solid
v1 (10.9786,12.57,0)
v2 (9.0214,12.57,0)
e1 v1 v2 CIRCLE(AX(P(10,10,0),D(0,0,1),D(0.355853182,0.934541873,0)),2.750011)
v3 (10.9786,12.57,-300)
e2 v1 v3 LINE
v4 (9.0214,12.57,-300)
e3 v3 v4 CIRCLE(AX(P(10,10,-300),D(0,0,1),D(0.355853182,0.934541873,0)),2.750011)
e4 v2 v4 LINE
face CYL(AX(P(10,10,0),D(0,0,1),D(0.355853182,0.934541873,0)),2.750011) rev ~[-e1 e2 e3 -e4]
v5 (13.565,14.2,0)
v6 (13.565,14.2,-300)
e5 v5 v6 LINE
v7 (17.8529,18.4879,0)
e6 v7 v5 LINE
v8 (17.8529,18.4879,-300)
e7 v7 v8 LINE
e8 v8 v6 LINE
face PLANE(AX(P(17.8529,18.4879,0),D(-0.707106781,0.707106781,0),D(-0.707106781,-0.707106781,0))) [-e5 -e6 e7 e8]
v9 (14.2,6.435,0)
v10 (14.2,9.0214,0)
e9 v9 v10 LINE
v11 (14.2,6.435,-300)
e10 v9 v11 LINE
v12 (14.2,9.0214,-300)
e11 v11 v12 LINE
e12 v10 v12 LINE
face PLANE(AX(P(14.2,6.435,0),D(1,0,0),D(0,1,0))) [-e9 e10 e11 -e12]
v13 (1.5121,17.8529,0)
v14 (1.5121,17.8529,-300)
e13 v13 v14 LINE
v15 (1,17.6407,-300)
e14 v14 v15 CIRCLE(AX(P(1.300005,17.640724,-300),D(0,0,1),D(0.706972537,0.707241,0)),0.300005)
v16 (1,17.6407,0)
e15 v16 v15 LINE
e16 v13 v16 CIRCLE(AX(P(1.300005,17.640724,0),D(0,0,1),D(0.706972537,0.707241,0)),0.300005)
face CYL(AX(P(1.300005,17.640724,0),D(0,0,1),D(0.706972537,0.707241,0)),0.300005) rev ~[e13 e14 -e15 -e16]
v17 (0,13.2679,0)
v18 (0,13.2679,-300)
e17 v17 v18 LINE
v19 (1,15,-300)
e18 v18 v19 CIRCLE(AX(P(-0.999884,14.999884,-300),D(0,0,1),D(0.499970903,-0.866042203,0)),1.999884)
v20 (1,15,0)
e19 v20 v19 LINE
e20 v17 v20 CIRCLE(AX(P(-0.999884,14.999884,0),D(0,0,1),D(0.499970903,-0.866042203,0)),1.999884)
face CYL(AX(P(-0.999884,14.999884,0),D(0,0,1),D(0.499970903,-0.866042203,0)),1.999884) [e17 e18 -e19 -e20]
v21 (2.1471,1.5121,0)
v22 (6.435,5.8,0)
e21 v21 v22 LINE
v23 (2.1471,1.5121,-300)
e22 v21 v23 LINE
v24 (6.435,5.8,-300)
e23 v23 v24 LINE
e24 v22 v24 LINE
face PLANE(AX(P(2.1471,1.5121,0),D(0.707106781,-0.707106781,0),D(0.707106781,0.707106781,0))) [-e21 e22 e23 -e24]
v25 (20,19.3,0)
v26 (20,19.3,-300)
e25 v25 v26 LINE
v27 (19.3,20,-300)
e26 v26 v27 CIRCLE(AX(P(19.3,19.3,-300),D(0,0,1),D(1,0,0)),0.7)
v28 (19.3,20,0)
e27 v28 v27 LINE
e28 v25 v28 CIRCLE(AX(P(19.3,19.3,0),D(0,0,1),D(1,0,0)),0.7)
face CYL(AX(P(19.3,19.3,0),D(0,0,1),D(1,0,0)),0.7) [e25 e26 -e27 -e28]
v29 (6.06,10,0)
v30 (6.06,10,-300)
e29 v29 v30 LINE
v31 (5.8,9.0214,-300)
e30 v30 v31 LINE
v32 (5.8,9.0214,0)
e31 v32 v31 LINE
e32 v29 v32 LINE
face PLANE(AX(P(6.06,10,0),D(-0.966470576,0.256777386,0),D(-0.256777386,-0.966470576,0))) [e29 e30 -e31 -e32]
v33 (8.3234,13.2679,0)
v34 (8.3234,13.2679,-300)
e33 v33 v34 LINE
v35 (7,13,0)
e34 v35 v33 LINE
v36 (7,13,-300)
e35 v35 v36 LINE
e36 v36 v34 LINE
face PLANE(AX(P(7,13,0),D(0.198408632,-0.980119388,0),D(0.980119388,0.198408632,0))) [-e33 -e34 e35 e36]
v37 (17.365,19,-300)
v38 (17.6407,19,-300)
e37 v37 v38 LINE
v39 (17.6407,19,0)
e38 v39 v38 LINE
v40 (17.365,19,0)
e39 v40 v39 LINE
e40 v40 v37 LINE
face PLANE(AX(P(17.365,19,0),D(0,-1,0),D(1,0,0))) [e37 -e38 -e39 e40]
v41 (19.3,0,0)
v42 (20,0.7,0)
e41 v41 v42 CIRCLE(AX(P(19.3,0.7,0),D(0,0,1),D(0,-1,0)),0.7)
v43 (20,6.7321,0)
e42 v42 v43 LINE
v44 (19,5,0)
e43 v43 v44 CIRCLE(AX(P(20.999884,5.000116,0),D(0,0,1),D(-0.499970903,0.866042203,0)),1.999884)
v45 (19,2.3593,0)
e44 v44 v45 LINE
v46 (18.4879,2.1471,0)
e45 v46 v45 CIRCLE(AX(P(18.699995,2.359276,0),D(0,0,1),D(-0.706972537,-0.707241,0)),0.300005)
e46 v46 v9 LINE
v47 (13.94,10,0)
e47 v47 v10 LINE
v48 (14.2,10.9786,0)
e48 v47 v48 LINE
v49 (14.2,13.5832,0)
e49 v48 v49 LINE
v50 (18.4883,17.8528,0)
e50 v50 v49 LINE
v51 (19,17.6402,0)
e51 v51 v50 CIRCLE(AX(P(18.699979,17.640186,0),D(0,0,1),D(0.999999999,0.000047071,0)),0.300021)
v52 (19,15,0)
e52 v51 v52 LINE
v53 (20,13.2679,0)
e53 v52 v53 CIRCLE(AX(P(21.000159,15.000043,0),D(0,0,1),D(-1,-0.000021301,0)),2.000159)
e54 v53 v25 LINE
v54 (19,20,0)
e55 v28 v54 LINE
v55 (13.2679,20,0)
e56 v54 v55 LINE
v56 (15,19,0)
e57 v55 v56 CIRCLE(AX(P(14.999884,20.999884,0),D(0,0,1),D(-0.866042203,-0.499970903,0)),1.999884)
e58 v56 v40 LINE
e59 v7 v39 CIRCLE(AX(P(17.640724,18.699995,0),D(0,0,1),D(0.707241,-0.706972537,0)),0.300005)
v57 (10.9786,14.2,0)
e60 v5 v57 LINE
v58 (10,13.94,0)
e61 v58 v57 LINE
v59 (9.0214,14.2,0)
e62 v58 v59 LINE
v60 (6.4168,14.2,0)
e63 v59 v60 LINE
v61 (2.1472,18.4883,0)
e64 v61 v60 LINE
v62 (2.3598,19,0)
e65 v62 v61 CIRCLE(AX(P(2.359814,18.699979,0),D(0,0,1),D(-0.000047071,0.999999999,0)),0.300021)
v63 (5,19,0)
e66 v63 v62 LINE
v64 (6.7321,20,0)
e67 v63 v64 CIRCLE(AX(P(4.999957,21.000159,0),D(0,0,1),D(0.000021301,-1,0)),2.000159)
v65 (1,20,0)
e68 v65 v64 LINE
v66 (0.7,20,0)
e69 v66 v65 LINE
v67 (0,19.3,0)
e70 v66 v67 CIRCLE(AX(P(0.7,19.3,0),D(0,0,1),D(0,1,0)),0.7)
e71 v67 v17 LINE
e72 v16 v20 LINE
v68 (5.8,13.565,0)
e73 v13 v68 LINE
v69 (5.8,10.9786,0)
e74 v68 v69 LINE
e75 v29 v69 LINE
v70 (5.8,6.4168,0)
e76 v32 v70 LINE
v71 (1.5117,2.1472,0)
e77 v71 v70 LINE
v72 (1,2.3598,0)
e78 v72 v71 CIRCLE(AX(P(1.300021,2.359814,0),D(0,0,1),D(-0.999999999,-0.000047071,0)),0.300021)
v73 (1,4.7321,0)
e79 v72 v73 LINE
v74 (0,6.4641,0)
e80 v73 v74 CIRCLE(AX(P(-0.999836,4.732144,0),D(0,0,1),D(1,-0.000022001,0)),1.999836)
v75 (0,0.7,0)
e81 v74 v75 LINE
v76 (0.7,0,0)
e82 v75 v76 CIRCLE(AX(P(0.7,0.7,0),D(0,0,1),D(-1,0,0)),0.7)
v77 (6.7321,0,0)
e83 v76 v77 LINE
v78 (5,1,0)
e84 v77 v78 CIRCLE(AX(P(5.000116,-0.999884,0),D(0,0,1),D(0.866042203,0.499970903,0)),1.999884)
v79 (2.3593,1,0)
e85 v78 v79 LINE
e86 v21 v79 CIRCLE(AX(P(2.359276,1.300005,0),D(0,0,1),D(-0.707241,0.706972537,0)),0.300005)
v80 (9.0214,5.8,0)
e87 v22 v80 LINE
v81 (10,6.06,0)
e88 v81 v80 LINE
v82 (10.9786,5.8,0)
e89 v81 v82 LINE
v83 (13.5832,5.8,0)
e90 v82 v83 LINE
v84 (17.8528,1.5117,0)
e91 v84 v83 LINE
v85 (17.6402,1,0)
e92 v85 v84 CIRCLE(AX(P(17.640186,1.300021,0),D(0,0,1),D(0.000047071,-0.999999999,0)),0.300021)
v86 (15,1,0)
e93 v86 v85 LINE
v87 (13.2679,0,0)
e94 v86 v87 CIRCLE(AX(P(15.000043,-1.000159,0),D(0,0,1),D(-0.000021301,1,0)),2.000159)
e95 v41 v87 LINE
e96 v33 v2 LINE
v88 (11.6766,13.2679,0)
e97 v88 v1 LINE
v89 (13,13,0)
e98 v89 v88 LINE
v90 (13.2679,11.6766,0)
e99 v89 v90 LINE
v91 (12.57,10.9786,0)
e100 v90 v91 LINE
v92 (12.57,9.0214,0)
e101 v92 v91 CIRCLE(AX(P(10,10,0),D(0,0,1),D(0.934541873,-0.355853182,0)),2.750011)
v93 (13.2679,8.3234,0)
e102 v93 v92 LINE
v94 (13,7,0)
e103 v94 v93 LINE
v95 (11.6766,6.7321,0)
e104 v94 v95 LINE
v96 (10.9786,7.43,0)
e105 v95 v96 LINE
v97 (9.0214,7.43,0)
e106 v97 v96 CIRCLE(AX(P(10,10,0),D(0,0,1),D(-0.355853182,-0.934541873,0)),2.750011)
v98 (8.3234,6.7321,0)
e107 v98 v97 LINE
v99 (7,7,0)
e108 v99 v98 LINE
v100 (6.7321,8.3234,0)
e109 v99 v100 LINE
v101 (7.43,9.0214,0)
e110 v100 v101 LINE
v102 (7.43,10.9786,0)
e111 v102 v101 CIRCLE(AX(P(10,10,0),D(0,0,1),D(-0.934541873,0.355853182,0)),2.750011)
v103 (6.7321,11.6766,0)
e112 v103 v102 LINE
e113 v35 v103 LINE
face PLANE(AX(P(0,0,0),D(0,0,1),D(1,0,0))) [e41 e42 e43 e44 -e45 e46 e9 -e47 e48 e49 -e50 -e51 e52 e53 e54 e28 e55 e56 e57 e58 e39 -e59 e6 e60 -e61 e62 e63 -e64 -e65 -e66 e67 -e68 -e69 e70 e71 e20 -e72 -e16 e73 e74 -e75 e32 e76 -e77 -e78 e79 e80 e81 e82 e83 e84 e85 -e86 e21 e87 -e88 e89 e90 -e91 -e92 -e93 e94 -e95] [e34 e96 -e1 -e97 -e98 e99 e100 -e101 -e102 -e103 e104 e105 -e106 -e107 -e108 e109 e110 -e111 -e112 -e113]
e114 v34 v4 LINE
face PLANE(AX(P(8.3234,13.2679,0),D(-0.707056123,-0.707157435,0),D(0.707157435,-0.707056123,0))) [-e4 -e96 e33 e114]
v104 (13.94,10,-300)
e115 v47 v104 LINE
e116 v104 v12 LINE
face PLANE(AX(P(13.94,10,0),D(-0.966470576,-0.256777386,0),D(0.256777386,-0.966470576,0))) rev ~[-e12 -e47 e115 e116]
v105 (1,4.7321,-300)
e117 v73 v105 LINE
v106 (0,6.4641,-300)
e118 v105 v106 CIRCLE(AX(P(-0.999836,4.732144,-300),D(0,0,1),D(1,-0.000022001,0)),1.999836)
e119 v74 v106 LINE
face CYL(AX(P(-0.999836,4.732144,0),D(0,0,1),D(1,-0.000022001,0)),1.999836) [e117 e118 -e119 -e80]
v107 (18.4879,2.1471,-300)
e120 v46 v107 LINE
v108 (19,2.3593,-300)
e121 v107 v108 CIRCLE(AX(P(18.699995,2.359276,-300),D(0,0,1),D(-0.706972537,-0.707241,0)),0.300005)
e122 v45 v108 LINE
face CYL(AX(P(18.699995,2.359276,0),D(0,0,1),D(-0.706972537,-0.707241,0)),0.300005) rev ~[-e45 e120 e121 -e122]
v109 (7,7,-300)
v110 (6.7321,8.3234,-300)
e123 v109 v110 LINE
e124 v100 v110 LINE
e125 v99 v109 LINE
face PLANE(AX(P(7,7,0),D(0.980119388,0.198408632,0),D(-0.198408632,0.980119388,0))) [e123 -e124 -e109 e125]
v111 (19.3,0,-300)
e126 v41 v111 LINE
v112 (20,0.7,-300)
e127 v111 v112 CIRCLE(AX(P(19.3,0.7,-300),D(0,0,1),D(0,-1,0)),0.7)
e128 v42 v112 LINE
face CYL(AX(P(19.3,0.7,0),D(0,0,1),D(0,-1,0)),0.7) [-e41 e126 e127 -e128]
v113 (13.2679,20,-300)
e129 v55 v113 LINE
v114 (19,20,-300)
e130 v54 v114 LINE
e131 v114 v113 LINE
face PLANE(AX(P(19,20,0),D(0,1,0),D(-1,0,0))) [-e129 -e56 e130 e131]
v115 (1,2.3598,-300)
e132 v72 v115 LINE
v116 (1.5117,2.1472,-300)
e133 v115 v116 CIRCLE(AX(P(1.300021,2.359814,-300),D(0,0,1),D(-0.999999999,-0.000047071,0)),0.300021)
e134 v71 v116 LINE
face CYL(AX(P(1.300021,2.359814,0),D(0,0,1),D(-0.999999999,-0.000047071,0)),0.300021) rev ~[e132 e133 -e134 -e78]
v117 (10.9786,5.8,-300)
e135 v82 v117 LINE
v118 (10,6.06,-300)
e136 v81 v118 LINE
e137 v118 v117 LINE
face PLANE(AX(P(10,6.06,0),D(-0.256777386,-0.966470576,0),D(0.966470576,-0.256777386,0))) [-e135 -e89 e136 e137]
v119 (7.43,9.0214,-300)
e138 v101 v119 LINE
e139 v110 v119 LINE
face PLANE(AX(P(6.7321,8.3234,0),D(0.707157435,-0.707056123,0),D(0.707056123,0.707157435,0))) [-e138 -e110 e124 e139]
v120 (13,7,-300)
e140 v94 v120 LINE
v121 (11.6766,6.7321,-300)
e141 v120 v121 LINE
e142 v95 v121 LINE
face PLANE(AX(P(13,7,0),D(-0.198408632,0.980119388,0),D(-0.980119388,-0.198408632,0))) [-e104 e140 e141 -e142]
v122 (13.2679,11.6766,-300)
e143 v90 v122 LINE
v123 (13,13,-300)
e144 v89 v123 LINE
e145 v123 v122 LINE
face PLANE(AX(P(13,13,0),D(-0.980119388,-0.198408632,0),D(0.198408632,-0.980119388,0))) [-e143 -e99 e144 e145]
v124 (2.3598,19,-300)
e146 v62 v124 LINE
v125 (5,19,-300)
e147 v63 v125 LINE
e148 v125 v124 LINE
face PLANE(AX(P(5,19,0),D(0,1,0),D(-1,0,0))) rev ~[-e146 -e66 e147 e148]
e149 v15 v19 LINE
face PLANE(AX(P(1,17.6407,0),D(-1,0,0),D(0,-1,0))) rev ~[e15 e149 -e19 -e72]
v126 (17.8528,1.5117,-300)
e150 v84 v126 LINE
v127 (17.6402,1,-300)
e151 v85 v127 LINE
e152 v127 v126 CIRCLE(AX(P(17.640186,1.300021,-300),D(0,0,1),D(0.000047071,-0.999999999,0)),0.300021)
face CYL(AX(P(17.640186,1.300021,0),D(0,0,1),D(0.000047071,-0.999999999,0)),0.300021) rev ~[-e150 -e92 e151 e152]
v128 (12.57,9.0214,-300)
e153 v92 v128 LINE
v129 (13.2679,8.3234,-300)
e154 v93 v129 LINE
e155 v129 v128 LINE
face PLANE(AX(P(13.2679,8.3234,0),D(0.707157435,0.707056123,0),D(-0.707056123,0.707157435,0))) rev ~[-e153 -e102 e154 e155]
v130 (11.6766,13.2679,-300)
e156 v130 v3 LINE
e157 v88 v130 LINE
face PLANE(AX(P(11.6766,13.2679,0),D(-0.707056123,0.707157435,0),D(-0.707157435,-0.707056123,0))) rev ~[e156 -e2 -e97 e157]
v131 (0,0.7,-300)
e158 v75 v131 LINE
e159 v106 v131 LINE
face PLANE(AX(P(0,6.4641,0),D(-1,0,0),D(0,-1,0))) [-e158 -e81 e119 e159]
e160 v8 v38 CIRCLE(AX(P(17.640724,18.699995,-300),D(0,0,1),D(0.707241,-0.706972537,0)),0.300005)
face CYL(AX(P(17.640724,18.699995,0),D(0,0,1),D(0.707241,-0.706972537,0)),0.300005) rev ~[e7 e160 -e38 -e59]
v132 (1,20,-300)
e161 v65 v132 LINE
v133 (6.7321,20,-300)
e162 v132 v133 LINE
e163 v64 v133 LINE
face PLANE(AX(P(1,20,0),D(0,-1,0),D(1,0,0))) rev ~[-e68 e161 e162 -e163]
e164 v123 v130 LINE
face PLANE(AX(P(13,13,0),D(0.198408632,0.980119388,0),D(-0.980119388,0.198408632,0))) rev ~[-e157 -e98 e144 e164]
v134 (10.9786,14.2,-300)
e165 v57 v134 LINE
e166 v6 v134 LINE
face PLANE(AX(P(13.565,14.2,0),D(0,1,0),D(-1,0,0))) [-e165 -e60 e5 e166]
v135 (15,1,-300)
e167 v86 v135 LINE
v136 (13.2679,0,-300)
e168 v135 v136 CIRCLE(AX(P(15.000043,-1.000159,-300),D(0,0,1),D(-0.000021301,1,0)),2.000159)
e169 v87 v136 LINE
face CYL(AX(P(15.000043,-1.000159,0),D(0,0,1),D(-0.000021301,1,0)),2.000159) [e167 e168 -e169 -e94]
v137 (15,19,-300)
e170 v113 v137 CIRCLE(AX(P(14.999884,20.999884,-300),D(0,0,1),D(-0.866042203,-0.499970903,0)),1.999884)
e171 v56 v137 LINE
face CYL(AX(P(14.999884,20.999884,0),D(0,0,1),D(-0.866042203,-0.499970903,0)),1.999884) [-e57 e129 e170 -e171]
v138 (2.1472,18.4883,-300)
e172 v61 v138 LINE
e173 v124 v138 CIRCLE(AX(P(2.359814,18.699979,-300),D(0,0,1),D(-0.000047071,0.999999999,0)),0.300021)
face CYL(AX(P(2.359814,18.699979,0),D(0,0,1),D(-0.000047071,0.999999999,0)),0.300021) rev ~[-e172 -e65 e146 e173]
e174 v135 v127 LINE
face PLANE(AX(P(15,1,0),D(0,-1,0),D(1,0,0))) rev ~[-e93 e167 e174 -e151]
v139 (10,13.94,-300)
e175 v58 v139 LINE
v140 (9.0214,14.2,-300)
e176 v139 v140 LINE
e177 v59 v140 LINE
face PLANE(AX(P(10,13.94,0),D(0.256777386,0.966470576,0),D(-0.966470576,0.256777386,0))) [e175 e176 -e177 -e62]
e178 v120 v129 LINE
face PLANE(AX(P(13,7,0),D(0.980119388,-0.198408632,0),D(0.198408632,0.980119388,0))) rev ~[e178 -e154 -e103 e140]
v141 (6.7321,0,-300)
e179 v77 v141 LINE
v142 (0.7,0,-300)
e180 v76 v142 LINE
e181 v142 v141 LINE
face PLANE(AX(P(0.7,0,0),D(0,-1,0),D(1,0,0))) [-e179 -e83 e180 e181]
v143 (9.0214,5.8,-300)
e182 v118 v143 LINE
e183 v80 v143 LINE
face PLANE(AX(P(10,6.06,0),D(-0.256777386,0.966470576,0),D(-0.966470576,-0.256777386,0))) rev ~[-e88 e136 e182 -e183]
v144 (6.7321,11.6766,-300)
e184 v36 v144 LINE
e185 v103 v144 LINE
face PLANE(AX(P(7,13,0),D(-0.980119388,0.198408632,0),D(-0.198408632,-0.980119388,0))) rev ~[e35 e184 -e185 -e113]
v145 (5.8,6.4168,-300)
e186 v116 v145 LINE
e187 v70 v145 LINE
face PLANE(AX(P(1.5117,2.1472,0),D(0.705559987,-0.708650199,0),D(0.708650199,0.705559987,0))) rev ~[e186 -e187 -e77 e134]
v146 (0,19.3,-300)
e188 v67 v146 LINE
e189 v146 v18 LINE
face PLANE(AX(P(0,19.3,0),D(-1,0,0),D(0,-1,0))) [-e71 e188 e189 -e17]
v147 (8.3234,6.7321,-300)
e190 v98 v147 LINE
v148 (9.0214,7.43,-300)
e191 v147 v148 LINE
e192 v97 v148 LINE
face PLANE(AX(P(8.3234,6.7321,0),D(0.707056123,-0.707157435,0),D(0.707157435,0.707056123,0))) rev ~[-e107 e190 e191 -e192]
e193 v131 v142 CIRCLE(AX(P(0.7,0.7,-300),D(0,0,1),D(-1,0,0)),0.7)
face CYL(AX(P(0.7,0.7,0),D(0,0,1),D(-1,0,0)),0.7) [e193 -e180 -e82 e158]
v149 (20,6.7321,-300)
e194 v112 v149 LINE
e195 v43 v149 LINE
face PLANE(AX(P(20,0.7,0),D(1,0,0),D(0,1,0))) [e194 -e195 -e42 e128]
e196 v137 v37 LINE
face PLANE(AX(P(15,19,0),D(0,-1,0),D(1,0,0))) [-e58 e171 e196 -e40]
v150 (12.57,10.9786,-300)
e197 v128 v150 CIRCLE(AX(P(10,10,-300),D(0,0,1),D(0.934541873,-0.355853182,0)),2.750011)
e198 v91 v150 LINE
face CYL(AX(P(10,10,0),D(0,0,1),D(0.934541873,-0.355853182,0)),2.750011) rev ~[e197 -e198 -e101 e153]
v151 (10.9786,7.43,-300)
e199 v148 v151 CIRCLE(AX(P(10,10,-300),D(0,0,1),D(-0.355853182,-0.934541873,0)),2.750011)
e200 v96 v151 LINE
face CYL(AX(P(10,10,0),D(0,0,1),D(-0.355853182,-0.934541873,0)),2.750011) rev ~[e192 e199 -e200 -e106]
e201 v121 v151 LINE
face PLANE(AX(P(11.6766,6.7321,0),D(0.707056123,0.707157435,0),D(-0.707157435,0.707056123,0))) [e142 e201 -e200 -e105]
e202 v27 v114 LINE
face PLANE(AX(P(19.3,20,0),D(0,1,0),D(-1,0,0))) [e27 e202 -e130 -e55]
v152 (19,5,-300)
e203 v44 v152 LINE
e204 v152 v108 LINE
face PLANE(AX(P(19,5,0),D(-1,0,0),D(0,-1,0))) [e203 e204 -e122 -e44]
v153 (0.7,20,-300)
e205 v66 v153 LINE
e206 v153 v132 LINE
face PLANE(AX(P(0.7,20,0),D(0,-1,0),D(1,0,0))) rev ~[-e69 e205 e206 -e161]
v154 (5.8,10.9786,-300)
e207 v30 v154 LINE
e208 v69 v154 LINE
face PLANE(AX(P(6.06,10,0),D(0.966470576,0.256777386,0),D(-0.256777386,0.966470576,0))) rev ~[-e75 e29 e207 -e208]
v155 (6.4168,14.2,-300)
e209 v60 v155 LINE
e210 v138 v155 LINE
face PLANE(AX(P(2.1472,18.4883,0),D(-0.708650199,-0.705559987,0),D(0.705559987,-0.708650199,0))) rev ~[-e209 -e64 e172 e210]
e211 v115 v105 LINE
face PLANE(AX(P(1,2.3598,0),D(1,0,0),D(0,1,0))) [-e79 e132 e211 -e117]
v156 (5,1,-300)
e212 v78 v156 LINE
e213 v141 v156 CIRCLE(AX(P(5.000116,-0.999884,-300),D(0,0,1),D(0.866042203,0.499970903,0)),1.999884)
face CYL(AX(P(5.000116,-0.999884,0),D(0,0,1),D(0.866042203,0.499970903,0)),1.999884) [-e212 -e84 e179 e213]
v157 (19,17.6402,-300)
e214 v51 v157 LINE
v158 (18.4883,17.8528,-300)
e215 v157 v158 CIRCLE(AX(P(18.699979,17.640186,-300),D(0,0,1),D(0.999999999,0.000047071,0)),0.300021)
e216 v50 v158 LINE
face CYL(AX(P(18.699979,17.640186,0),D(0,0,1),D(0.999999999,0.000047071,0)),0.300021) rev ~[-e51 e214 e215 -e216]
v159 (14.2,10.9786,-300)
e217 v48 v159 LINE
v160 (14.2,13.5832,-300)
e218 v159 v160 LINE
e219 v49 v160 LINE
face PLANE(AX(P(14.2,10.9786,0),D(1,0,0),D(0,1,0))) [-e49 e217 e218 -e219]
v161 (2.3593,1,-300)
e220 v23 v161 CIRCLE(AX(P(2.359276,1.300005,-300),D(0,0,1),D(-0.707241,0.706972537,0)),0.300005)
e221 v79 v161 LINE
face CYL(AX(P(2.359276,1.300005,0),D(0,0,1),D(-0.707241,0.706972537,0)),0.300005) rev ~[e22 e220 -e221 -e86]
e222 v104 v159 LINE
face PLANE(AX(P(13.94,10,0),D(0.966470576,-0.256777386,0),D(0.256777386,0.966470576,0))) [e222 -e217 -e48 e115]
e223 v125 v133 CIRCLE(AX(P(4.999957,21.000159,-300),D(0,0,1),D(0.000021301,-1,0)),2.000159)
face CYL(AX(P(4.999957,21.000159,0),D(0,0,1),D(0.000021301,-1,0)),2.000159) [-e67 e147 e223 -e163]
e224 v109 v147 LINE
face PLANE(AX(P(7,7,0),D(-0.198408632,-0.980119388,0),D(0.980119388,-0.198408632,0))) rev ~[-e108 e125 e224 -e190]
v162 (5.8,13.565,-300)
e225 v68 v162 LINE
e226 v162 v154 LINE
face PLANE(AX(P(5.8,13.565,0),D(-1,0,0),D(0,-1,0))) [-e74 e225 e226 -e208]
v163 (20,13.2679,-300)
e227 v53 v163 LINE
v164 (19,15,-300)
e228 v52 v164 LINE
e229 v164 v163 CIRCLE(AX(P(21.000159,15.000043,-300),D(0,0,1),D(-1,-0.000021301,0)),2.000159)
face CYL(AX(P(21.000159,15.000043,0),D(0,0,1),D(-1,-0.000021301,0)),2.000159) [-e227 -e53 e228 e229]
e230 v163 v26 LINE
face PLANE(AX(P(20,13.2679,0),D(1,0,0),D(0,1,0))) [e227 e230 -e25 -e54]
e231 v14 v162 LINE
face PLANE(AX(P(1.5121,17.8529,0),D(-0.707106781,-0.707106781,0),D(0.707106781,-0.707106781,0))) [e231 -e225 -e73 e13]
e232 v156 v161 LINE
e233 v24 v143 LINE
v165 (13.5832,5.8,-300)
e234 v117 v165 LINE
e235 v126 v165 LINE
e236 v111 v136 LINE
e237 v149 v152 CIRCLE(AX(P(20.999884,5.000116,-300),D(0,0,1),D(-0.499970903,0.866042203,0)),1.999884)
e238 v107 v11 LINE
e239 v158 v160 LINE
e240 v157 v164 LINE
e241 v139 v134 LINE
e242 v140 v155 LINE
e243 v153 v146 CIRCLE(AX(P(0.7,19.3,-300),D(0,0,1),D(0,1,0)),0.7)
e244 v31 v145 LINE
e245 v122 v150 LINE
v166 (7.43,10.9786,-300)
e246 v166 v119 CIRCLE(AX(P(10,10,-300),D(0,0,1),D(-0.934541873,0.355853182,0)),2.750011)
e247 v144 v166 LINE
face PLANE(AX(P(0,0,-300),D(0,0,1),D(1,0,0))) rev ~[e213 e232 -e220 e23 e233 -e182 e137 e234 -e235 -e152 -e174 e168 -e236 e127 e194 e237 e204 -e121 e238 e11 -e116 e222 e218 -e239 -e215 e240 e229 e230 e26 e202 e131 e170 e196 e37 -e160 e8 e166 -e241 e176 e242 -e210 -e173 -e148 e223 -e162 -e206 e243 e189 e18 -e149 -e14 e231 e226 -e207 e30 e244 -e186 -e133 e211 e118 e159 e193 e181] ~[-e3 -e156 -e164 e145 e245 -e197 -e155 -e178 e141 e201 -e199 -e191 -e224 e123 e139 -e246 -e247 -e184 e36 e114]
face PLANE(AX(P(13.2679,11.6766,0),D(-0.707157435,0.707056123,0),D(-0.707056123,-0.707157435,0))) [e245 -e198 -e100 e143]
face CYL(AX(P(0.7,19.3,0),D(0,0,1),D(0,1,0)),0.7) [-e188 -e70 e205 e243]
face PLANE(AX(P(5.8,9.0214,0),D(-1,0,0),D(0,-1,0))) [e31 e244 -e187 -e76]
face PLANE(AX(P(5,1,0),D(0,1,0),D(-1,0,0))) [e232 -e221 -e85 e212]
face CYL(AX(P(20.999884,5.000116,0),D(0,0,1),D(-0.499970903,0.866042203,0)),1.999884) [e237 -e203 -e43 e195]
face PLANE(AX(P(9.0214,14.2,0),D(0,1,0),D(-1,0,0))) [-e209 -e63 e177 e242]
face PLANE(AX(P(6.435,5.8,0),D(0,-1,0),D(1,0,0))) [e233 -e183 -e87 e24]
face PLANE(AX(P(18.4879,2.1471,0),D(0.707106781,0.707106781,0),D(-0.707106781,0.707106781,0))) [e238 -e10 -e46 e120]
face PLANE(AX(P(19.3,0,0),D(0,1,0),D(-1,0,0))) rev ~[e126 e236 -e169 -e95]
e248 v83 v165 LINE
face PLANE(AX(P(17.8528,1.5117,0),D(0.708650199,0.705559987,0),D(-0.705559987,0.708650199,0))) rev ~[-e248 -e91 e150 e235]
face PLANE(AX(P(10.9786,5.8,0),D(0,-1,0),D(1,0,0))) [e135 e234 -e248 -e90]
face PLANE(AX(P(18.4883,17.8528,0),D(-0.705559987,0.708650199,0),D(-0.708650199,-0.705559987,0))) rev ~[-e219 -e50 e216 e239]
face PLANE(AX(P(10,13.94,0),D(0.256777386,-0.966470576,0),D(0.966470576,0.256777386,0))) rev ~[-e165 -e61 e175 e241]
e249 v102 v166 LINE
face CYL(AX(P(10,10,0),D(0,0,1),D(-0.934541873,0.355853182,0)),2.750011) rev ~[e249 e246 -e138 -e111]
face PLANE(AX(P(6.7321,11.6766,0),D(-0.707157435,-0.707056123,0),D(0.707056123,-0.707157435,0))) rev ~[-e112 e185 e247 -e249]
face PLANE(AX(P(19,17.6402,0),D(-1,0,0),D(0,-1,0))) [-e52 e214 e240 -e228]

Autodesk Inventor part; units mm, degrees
ref_plane "YZ Plane" through (0, 0, 0) normal (1, 0, 0) x (0, 1, 0)
ref_plane "XZ Plane" through (0, 0, 0) normal (0, 1, 0) x (-1, 0, 0)
ref_plane "XY Plane" through (0, 0, 0) normal (0, 0, 1) x (1, 0, 0)
sketch "Boceto1" plane through (0, 0, 0) normal (0, 0, 1) x (1, 0, 0)
  line L0 (0, 20) -> (7, 20)
  line L1 (7, 20) -> (7, 21)
  line L2 (0, 20) -> (1, 20)
  line L3 (1, 17.6407) -> (1, 15)
  line L4 (-1, 13) -> (0, 13)
  line L5 (5, 19) -> (2.3598, 19)
  arc A0 (5, 19) -> (6.7321, 20) centre (5, 21) ccw
  arc A1 (0, 13.2679) -> (1, 15) centre (-1, 15) ccw
  line L6 (20, 20) -> (13, 20)
  line L7 (19.3, 20) -> (19, 20)
  line L8 (19, 17.6402) -> (19, 15)
  line L9 (21, 13) -> (20, 13)
  line L10 (13, 20) -> (13, 21)
  line L11 (15, 19) -> (18.365, 19)
  arc A2 (13.2679, 20) -> (15, 19) centre (15, 21) ccw
  arc A3 (19, 15) -> (20, 13.2679) centre (21, 15) ccw
  line L12 (0.7, 0) -> (7, 0)
  line L13 (-1, 8.6378) -> (0, 8.6378)
  line L14 (7, 0) -> (7, -1)
  line L15 (5, 1) -> (2.3593, 1)
  line L16 (19.3, 0) -> (13, 0)
  line L17 (13, 0) -> (13, -1)
  line L18 (15, 1) -> (17.6402, 1)
  line L19 (19, 5) -> (19, 2.3593)
  arc A4 (20, 6.7321) -> (19, 5) centre (21, 5) ccw
  arc A5 (15, 1) -> (13.2679, 0) centre (15, -1) ccw
  arc A6 (6.7321, 0) -> (5, 1) centre (5, -1) ccw
  line L20 (20, 20) -> (13, 20)
  line L21 (7, 20) -> (0.7, 20)
  line L22 (0, 19.3) -> (0, 13)
  line L23 (0, 6.4641) -> (0, 0.7)
  line L24 (20, 0.7) -> (20, 6.7321)
  line L25 (20, 13) -> (20, 19.3)
  line L26 (0, 0) -> (7, 0)
  line L27 (13, 0) -> (20, 0)
  line L28 (17.6407, 19) -> (17.365, 19)
  line L29 (17.8529, 18.4879) -> (13.565, 14.2)
  line L30 (18.4883, 17.8528) -> (14.2, 13.5832)
  line L31 (1.5121, 17.8529) -> (5.8, 13.565)
  line L32 (2.1472, 18.4883) -> (6.4168, 14.2)
  line L33 (2.1471, 1.5121) -> (6.435, 5.8)
  line L34 (1.5117, 2.1472) -> (5.8, 6.4168)
  line L35 (18.4879, 2.1471) -> (14.2, 6.435)
  line L36 (17.8528, 1.5117) -> (13.5832, 5.8)
  line L37 (13, 13) -> (11.6766, 13.2679)
  line L38 (11.6766, 13.2679) -> (10.9786, 12.57)
  line L39 (13, 13) -> (13.2679, 11.6766)
  line L40 (13.2679, 11.6766) -> (12.57, 10.9786)
  line L41 (6.7321, 11.6766) -> (7.43, 10.9786)
  line L42 (7, 13) -> (6.7321, 11.6766)
  line L43 (7, 13) -> (8.3234, 13.2679)
  line L44 (8.3234, 13.2679) -> (9.0214, 12.57)
  line L45 (8.3234, 6.7321) -> (9.0214, 7.43)
  line L46 (7, 7) -> (8.3234, 6.7321)
  line L47 (7, 7) -> (6.7321, 8.3234)
  line L48 (6.7321, 8.3234) -> (7.43, 9.0214)
  line L49 (13.2679, 8.3234) -> (12.57, 9.0214)
  line L50 (13, 7) -> (13.2679, 8.3234)
  line L51 (13, 7) -> (11.6766, 6.7321)
  line L52 (11.6766, 6.7321) -> (10.9786, 7.43)
  line L53 (7, 13) -> (5.8, 14.2) construction
  line L54 (5.8, 5.8) -> (7, 7) construction
  line L55 (14.2, 5.8) -> (13, 7) construction
  line L56 (11.9445, 8.0555) -> (8.0555, 11.9445) construction
  line L57 (8.0555, 8.0555) -> (11.9445, 11.9445) construction
  line L58 (13, 13) -> (14.2, 14.2) construction
  arc A7 (10.9786, 12.57) -> (9.0214, 12.57) centre (10, 10) ccw
  arc A8 (12.57, 9.0214) -> (12.57, 10.9786) centre (10, 10) ccw
  arc A9 (7.43, 10.9786) -> (7.43, 9.0214) centre (10, 10) ccw
  arc A10 (9.0214, 7.43) -> (10.9786, 7.43) centre (10, 10) ccw
  line L59 (13.94, 10) -> (14.2, 10.9786)
  line L60 (13.94, 10) -> (14.2, 9.0214)
  line L61 (14.2, 6.435) -> (14.2, 9.0214)
  line L62 (14.2, 10.9786) -> (14.2, 13.5832)
  line L63 (10, 13.94) -> (10.9786, 14.2)
  line L64 (10.9786, 14.2) -> (10, 13.94)
  line L65 (10, 13.94) -> (9.0214, 14.2)
  line L66 (6.06, 10) -> (5.8, 10.9786)
  line L67 (6.06, 10) -> (5.8, 9.0214)
  line L68 (10, 6.06) -> (10.9786, 5.8)
  line L69 (10, 6.06) -> (9.0214, 5.8)
  line L70 (6.435, 5.8) -> (9.0214, 5.8)
  line L71 (10.9786, 5.8) -> (13.5832, 5.8)
  line L72 (5.8, 13.565) -> (5.8, 10.9786)
  line L73 (5.8, 9.0214) -> (5.8, 6.4168)
  line L74 (13.565, 14.2) -> (10.9786, 14.2)
  line L75 (9.0214, 14.2) -> (6.4168, 14.2)
  line L76 (1, 2.3598) -> (1, 4.7321)
  arc A11 (1, 4.7321) -> (0, 6.4641) centre (-1, 4.7321) ccw
  arc A12 (0.7, 20) -> (0, 19.3) centre (0.7, 19.3) ccw
  arc A13 (20, 19.3) -> (19.3, 20) centre (19.3, 19.3) ccw
  arc A14 (19.3, 0) -> (20, 0.7) centre (19.3, 0.7) ccw
  arc A15 (0, 0.7) -> (0.7, 0) centre (0.7, 0.7) ccw
  arc A16 (2.3598, 19) -> (2.1472, 18.4883) centre (2.3598, 18.7) ccw
  arc A17 (1.5121, 17.8529) -> (1, 17.6407) centre (1.3, 17.6407) ccw
  arc A18 (17.8529, 18.4879) -> (17.6407, 19) centre (17.6407, 18.7) ccw
  arc A19 (19, 17.6402) -> (18.4883, 17.8528) centre (18.7, 17.6402) ccw
  arc A20 (18.4879, 2.1471) -> (19, 2.3593) centre (18.7, 2.3593) ccw
  arc A21 (17.6402, 1) -> (17.8528, 1.5117) centre (17.6402, 1.3) ccw
  arc A22 (2.1471, 1.5121) -> (2.3593, 1) centre (2.3593, 1.3) ccw
  arc A23 (1, 2.3598) -> (1.5117, 2.1472) centre (1.3, 2.3598) ccw
  point P0 (7, 19)
  point P1 (1, 13)
  point P2 (19, 13)
  point P3 (1, 1.6378)
  point P4 (1, 8.6378)
  point P5 (7, 1)
  point P6 (13, 1)
  point P7 (19, 1.635)
  point P8 (1, 18.365)
  point P9 (19, 18.3622)
  point P10 (19.6406, 19)
  point P11 (1, 19.6406)
  point P12 (0.3594, 1)
  point P13 (19, 0.3594)
  point P14 (1.6378, 19)
  point P15 (1.635, 1)
  point P16 (18.3622, 1)
  dimension "d1" = 20
  dimension "d2" = 20
  dimension "d5" = 7
  dimension "d6" = 1
  dimension "d7" = 1
  dimension "d8" = 7
  dimension "d9" = 2
  dimension "d10" = 2
  dimension "d11" = 7
  dimension "d12" = 1
  dimension "d13" = 7
  dimension "d14" = 2
  dimension "d15" = 7
  dimension "d16" = 1
  dimension "d17" = 7
  dimension "d20" = 8.4
  dimension "d21" = 8.4
  dimension "d23" = 0.9
  dimension "d26" = 360
  dimension "d30" = 360
  dimension "d38" = 2
  dimension "d41" = 0.7
  dimension "d42" = 0.3
extrude "Extrusión3" add sketch "Boceto1" against normal blind 300
properties part number "PerfilBaseJohan"
